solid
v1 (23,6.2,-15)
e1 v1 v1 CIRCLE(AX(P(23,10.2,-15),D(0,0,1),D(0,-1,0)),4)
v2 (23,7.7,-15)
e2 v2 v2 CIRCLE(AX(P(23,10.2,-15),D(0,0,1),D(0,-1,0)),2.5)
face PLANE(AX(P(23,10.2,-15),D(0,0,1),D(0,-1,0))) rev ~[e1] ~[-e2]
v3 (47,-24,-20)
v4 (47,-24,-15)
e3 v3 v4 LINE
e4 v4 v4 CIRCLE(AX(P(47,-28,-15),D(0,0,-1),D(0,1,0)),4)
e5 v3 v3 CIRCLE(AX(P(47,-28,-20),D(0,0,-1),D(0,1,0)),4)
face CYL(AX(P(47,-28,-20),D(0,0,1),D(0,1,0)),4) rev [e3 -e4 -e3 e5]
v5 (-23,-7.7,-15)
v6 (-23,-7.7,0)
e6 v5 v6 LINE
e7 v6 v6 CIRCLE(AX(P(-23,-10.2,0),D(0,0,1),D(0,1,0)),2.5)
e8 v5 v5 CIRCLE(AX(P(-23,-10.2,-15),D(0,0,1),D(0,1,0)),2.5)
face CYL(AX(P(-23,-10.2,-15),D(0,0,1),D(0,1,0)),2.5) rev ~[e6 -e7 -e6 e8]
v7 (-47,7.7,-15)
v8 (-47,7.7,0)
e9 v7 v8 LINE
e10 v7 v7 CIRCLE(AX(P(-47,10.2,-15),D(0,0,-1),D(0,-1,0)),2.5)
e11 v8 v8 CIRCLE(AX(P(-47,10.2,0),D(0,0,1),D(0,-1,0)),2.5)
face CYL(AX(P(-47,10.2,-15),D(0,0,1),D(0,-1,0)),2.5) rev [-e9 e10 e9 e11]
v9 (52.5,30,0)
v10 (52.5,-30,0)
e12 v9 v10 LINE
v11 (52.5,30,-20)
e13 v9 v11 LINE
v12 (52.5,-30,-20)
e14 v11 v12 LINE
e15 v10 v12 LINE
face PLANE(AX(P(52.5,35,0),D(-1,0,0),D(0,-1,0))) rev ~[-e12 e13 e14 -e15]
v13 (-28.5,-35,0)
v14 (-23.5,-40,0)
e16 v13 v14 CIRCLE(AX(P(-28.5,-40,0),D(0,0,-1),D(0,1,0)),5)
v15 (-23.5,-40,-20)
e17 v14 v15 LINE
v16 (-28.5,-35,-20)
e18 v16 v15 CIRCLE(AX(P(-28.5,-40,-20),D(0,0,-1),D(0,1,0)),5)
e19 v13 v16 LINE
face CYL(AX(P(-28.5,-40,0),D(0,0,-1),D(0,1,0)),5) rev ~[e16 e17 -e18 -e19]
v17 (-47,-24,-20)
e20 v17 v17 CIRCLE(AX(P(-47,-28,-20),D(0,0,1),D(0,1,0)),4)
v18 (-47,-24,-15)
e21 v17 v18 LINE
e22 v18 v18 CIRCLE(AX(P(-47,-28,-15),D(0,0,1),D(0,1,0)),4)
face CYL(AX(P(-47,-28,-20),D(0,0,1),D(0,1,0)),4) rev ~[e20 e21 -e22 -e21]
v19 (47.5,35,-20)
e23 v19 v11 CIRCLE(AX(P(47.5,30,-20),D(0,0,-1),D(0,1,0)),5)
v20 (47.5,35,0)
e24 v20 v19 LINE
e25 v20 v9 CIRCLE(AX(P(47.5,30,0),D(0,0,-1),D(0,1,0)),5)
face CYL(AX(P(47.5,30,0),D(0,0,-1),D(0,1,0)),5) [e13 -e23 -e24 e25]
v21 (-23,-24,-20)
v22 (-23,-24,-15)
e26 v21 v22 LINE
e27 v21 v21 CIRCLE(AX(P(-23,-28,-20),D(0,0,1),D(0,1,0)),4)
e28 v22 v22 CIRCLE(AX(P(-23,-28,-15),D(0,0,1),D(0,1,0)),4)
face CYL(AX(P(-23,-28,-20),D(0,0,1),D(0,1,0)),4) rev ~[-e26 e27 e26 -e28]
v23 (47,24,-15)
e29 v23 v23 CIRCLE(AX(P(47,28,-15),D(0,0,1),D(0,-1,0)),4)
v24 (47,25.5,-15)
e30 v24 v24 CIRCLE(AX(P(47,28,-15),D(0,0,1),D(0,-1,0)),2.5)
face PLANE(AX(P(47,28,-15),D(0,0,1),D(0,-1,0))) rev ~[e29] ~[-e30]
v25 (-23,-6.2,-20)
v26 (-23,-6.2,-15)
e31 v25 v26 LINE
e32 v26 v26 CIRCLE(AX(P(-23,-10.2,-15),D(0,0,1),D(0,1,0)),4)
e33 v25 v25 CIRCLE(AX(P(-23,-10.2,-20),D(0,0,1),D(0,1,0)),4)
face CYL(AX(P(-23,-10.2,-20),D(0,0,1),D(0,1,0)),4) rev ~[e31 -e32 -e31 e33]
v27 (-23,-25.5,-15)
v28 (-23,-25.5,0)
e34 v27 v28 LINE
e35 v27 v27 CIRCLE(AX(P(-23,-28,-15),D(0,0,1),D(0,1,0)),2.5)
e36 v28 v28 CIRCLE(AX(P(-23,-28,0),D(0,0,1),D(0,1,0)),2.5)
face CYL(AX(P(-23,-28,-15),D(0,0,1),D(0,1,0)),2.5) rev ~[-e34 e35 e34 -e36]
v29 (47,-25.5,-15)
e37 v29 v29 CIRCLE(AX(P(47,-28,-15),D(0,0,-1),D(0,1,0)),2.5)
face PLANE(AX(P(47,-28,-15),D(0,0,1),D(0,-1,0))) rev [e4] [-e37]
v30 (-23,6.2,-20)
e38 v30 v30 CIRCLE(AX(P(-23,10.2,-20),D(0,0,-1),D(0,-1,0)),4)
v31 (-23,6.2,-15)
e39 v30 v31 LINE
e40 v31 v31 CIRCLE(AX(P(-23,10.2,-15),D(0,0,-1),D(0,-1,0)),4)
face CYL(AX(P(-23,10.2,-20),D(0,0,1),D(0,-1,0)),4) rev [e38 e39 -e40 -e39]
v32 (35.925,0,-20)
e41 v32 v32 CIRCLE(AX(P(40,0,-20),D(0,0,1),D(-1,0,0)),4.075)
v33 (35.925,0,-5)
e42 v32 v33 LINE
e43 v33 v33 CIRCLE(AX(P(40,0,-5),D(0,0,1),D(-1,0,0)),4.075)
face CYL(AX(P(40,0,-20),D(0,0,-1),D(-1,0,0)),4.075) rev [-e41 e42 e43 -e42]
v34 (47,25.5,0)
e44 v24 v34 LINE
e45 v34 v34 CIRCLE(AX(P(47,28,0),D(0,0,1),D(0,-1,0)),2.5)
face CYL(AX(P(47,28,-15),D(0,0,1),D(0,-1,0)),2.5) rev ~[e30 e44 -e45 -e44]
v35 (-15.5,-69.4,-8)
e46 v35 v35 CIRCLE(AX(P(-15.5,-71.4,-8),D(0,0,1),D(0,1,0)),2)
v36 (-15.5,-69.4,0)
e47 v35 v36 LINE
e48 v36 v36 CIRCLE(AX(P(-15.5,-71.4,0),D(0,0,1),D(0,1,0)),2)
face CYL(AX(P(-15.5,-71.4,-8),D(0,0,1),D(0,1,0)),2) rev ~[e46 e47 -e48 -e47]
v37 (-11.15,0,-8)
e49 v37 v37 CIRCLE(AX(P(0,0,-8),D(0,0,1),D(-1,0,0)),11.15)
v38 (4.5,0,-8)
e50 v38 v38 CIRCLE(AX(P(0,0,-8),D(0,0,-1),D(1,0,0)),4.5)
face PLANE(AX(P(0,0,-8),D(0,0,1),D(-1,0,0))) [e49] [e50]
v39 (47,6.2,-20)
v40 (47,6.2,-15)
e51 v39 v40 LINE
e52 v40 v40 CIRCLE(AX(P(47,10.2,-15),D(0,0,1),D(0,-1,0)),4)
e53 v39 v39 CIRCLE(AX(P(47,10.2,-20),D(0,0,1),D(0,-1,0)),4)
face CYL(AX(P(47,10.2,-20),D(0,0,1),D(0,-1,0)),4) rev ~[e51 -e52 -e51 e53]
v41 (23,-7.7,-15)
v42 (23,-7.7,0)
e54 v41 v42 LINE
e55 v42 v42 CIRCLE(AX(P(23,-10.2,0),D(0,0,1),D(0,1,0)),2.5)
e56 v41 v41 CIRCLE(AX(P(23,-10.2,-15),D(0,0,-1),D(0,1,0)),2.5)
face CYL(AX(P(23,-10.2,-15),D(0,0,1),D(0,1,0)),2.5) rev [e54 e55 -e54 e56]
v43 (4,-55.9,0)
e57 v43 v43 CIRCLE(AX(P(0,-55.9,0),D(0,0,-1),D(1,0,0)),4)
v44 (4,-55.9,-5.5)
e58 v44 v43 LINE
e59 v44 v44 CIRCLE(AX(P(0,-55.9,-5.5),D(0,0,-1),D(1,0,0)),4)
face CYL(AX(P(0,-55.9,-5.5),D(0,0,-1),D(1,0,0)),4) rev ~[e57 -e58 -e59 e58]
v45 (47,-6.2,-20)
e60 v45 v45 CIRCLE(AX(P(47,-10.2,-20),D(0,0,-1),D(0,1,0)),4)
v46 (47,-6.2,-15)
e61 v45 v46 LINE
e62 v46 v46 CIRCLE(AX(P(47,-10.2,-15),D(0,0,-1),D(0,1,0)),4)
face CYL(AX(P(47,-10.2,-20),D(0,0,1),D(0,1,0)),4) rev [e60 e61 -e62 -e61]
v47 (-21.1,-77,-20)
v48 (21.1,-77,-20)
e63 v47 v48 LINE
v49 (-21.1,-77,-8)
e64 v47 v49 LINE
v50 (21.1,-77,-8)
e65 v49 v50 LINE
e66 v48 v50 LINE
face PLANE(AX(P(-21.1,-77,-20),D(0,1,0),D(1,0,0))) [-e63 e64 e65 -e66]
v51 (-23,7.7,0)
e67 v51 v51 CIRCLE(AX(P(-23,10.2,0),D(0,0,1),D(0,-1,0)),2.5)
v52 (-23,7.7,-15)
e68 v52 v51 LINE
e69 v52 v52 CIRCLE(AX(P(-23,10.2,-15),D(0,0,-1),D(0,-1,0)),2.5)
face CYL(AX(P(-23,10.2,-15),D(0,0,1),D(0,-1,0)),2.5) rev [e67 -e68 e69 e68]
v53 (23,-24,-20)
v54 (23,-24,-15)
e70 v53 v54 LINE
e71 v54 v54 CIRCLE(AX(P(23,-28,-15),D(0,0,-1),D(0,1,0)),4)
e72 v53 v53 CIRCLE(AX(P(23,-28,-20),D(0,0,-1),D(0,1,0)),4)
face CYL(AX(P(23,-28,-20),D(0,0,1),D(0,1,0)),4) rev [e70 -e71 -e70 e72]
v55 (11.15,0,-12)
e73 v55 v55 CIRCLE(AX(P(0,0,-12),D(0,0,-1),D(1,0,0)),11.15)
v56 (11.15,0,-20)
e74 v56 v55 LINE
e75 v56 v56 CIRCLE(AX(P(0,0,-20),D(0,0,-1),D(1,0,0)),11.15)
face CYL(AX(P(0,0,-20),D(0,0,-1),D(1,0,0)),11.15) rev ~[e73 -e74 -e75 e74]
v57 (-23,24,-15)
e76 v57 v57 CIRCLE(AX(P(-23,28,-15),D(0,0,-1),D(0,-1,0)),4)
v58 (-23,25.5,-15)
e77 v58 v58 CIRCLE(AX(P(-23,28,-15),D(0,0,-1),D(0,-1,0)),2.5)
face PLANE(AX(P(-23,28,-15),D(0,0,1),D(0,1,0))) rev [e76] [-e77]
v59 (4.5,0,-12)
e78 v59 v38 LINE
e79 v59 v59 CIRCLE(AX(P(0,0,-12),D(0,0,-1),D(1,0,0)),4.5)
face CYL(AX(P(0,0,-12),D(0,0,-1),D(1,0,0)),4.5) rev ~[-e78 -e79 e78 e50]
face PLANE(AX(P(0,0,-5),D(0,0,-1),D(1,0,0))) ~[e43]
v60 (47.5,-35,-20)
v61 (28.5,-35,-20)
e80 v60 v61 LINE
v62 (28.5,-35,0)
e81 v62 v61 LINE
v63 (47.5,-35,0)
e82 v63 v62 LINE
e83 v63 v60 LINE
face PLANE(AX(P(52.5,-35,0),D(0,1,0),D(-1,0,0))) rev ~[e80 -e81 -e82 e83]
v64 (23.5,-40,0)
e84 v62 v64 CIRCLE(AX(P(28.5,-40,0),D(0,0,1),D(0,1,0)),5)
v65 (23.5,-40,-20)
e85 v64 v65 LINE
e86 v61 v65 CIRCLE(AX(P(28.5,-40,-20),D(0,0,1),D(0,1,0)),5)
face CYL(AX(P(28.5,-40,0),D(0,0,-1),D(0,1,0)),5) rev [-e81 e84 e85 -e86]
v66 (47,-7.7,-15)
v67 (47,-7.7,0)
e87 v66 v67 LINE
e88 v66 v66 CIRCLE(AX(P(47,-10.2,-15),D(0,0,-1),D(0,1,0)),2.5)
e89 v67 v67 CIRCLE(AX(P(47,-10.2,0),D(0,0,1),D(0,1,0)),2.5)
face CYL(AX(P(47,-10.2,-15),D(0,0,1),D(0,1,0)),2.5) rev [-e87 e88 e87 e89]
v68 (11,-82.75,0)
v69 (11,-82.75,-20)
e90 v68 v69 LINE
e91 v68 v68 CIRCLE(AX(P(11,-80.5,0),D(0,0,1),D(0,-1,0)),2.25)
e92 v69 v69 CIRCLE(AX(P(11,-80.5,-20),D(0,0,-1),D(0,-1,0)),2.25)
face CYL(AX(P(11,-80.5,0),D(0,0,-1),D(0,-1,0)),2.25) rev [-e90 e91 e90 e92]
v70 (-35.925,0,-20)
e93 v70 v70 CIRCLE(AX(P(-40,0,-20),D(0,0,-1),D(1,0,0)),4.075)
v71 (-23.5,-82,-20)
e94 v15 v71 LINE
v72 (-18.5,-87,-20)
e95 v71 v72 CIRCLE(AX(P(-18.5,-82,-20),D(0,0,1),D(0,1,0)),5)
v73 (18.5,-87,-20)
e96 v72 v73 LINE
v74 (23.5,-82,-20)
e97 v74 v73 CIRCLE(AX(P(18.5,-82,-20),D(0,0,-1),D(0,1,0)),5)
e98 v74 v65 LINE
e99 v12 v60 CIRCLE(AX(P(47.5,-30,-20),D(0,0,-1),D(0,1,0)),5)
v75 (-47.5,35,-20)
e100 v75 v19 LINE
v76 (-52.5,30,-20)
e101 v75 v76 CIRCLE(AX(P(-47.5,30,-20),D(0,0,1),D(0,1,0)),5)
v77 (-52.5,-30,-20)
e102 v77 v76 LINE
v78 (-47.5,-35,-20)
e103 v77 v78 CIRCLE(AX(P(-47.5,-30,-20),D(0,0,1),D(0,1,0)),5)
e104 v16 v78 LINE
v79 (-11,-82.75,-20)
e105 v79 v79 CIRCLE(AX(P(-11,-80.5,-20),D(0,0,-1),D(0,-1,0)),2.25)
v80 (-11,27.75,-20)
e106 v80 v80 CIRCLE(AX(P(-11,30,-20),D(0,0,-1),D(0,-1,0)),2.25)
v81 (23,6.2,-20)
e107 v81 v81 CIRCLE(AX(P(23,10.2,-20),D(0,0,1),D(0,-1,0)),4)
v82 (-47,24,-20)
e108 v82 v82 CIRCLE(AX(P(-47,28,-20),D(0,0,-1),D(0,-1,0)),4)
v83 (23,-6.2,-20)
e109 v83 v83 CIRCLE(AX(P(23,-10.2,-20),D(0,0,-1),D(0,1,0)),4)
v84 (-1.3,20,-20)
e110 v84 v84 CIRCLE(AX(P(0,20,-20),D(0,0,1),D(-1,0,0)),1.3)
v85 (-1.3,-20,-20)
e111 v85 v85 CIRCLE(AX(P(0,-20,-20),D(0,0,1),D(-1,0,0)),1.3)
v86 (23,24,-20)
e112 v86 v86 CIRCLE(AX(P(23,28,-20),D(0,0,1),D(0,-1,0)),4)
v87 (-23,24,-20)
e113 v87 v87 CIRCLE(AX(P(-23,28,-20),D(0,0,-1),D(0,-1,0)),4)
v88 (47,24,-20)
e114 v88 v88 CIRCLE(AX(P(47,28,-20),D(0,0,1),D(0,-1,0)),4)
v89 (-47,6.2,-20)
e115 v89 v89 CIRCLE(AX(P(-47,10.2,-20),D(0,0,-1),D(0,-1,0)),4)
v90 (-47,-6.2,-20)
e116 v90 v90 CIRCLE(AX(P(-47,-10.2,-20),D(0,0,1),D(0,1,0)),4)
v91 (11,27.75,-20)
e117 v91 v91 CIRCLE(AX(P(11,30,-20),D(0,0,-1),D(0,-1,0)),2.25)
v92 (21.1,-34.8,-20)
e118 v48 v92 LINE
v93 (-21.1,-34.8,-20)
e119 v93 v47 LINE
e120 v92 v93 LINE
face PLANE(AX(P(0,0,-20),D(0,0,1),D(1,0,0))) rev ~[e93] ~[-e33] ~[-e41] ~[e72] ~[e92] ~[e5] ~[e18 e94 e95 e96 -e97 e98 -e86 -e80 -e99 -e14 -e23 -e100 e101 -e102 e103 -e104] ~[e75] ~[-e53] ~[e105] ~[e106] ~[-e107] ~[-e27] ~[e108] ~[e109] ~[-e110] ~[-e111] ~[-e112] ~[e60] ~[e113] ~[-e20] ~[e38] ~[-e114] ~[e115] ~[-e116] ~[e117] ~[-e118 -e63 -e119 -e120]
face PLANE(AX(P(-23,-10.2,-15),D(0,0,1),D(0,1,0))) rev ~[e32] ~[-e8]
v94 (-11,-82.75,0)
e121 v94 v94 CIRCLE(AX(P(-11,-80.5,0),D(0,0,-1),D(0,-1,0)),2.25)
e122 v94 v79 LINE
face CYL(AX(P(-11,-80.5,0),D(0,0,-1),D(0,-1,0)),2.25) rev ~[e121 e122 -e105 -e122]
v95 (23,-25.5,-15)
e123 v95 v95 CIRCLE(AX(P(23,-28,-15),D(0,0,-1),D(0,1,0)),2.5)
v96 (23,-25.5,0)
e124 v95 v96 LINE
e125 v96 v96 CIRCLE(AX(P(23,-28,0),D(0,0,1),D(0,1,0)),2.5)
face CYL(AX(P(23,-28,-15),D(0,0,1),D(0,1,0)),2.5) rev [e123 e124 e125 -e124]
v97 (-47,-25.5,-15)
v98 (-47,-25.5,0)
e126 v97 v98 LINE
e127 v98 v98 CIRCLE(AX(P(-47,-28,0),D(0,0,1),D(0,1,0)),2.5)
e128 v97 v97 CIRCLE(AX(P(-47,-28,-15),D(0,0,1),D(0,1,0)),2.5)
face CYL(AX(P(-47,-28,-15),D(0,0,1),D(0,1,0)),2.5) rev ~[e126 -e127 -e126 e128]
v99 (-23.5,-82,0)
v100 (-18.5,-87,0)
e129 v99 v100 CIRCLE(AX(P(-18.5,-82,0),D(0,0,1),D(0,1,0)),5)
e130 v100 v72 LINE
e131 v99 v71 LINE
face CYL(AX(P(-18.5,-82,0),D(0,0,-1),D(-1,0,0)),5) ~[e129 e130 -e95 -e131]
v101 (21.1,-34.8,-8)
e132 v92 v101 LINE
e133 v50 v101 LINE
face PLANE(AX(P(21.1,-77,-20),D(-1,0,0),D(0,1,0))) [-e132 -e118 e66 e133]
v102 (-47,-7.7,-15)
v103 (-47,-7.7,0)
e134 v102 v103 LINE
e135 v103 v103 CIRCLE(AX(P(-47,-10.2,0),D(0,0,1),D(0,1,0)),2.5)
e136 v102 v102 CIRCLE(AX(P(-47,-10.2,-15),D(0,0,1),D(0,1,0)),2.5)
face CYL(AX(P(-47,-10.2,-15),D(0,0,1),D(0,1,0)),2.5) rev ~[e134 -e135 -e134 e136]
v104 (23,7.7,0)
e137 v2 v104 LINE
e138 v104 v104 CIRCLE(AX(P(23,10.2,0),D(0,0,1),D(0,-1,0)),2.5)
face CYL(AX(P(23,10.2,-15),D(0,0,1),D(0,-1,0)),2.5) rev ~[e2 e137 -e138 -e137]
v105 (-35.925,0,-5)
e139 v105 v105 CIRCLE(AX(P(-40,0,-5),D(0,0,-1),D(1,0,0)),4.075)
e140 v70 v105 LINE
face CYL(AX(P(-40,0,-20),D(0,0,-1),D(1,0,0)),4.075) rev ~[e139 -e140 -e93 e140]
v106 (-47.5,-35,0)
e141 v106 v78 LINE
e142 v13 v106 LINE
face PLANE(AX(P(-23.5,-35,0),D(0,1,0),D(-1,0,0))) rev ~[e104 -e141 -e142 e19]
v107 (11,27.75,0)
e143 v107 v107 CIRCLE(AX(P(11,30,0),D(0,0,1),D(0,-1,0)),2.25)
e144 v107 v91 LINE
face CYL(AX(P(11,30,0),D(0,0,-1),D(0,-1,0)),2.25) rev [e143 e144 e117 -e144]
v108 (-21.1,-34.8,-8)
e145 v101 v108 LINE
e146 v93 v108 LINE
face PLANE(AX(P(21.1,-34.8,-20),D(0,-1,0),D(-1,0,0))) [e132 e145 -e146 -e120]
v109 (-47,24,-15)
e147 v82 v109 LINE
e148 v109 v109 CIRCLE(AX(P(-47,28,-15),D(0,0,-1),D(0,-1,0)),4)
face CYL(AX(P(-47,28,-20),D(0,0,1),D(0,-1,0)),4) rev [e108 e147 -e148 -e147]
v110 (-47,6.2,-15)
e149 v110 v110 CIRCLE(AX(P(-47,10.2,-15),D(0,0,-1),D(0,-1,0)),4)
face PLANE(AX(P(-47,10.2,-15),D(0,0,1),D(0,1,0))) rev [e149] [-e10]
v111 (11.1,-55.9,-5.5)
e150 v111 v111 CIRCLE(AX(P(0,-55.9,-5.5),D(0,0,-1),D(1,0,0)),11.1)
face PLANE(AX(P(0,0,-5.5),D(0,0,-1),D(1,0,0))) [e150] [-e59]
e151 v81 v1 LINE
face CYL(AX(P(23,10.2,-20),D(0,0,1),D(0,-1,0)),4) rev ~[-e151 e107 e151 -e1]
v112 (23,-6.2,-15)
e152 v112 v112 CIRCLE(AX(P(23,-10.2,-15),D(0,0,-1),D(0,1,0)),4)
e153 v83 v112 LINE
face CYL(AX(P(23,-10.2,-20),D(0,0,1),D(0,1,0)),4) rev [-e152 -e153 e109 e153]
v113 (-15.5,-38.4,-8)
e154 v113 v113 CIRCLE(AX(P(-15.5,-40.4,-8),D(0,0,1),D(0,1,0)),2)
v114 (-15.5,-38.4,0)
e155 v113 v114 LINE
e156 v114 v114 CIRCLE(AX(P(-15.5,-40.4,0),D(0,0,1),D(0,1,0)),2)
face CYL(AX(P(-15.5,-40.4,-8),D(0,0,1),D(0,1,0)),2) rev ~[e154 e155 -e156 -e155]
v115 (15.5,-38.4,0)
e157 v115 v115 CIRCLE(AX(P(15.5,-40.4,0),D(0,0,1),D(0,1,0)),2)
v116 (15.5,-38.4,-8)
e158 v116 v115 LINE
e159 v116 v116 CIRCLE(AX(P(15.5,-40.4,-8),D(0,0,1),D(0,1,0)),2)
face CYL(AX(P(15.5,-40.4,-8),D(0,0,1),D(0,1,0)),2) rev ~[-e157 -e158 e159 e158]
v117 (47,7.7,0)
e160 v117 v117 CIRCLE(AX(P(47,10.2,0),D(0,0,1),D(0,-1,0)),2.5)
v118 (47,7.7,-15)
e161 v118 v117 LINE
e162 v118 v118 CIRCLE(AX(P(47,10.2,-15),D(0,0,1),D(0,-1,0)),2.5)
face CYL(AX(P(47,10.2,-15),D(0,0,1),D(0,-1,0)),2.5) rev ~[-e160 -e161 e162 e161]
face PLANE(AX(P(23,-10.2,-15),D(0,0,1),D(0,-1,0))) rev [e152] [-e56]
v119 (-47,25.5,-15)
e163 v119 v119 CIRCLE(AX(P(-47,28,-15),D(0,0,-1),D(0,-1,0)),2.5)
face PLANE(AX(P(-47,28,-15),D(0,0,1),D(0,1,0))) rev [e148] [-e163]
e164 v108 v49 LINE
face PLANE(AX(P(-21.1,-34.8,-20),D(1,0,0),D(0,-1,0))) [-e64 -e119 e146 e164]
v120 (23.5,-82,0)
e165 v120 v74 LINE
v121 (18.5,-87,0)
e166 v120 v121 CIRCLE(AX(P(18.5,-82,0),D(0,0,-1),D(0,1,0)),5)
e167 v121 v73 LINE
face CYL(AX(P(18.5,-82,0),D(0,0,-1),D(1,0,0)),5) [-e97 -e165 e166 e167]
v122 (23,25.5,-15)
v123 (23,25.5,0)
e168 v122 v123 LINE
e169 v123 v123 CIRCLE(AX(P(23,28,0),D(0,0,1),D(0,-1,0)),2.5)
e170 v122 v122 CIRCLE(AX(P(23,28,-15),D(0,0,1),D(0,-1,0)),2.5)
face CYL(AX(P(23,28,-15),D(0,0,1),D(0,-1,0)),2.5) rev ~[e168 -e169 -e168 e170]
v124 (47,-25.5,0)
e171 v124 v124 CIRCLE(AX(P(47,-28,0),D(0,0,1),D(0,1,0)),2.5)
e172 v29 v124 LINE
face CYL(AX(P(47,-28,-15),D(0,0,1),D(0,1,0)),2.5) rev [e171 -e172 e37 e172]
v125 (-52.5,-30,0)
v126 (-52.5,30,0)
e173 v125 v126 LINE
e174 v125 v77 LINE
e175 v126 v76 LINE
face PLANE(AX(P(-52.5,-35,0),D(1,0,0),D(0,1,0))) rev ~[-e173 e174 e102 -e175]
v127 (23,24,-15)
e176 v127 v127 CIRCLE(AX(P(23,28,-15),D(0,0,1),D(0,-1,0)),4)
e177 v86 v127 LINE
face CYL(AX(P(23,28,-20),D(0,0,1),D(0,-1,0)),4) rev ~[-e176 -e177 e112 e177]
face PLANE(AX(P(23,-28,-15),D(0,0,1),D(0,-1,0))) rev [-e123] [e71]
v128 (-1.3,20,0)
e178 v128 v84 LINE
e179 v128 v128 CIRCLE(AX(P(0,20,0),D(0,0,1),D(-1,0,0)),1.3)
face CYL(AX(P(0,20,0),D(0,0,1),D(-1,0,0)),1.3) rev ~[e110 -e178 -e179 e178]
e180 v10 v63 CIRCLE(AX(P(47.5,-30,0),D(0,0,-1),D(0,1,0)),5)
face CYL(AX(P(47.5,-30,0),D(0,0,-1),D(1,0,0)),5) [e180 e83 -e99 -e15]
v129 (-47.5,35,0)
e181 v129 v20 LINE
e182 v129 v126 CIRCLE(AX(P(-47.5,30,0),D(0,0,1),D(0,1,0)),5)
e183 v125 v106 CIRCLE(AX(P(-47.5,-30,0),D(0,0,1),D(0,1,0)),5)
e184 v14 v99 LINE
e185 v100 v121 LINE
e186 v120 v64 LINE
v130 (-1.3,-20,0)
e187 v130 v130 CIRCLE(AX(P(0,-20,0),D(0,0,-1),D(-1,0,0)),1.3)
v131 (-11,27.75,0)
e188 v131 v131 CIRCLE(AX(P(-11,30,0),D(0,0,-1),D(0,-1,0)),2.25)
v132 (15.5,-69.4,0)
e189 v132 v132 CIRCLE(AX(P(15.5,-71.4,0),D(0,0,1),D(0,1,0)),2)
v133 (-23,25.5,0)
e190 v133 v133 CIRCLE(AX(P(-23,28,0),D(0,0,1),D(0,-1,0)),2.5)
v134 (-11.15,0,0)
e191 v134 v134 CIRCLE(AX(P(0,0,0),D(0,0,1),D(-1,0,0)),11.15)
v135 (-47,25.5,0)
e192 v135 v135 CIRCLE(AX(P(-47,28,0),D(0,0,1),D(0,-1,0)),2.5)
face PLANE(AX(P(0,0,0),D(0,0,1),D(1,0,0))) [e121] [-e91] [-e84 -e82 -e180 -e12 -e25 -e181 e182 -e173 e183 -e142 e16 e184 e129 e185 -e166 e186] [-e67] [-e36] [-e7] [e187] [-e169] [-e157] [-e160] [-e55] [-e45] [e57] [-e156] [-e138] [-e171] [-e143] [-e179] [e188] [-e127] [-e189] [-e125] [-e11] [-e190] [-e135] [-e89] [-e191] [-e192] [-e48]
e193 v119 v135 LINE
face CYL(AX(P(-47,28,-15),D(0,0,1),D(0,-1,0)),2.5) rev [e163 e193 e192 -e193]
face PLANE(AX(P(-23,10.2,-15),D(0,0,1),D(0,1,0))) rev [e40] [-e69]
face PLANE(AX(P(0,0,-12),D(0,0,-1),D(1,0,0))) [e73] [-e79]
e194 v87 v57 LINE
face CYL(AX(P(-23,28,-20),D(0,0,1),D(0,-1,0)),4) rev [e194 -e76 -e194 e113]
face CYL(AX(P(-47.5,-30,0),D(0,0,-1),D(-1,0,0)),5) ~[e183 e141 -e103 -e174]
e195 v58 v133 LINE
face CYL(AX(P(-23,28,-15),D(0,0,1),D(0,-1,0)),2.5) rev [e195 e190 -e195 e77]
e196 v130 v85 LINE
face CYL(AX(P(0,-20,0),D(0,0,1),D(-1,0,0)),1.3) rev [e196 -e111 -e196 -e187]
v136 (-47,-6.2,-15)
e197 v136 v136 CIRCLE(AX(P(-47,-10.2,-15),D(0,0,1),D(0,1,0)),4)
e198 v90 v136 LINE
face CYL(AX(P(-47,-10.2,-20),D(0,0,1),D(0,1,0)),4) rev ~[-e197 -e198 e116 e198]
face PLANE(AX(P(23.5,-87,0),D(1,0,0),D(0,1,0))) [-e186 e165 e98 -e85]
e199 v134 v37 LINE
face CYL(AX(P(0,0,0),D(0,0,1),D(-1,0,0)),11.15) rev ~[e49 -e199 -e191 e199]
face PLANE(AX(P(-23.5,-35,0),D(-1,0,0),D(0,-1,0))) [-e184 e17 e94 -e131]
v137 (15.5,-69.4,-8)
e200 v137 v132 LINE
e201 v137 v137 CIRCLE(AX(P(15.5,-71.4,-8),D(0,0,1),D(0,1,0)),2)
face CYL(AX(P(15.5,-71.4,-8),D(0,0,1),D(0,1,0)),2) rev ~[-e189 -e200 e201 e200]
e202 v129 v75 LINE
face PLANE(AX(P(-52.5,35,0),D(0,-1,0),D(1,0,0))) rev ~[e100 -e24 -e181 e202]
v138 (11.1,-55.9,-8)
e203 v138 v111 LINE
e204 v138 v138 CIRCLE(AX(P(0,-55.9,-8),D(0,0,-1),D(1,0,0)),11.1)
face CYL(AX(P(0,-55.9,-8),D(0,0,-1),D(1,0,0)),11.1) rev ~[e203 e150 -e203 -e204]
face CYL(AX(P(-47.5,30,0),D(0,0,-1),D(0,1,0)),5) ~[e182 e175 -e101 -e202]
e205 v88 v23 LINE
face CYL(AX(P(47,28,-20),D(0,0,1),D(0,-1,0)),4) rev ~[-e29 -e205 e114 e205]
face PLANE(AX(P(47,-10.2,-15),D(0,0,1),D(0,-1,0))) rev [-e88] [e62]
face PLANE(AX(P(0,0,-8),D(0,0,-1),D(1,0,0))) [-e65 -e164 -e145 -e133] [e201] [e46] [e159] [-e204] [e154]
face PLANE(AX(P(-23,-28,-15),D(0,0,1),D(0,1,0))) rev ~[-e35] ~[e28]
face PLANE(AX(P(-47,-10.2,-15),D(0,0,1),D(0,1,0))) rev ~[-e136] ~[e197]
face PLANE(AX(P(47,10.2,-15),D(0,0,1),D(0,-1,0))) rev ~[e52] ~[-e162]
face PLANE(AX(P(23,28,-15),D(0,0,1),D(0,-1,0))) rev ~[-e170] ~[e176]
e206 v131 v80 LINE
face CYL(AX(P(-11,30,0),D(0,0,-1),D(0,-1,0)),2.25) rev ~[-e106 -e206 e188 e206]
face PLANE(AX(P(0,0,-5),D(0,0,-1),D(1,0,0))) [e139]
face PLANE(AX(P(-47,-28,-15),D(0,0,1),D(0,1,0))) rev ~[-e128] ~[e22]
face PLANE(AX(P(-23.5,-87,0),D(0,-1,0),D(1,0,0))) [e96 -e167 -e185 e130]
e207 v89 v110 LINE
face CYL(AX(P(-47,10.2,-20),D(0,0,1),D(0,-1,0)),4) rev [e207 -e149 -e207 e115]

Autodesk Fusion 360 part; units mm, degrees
sketch "Esquisse1" plane through (0, 0, 0) normal (0, 0, 1) x (1, 0, 0)
  line L0 (-52.5, 35) -> (52.5, 35)
  line L1 (52.5, 35) -> (52.5, -35)
  line L2 (-52.5, -35) -> (-52.5, 35)
  line L3 (0, 1.75) -> (0, 22.5)
  line L4 (1.75, 0) -> (22.5, 0)
  line L5 (-23.5, -35) -> (-23.5, -87)
  line L6 (-23.5, -87) -> (23.5, -87)
  line L7 (23.5, -87) -> (23.5, -35)
  line L8 (52.5, -35) -> (23.5, -35)
  line L9 (-23.5, -35) -> (-52.5, -35)
  dimension "d1" = 105
  dimension "d2" = 70
  dimension "d25" = 52
  dimension "d26" = 47
extrude "Extrusion1" add sketch "Esquisse1" against normal blind 20
sketch "Esquisse3" plane through (0, 0, -20) normal (0, 0, -1) x (1, 0, 0)
  line L0 (-23.5, 35) -> (-52.5, 35)
  line L1 (-52.5, 35) -> (-52.5, -35)
  line L2 (-52.5, -35) -> (52.5, -35)
  line L3 (52.5, -35) -> (52.5, 35)
  line L4 (0, -1.75) -> (0, -22.5)
  line L5 (23.5, 87) -> (-23.5, 87)
  line L6 (-23.5, 87) -> (-23.5, 35)
  line L7 (52.5, 35) -> (23.5, 35)
  line L8 (23.5, 35) -> (23.5, 87)
  point P0 (-47, 28)
  point P1 (-23, 28)
  point P2 (-47, 10.2)
  point P3 (-23, 10.2)
  dimension "d7" = 24
  dimension "d8" = -17.8
  dimension "d16" = 47
hole "Perçage1" at (-47, -28, -20) at (-23, -28, -20) at (-23, -10.2, -20) at (-47, -10.2, -20) direction (0, 0, 1) diameter 5 depth 50 tip angle 118 counterbore diameter 8 counterbore depth 5
mirror "Symétrie miroir1" about plane through (0, 0, 0) normal (1, 0, 0) of "Perçage1"
mirror "Symétrie miroir2" about plane through (0, 0, 0) normal (0, 1, 0) of "Perçage1", "Symétrie miroir1"
sketch "Esquisse4" plane through (0, 0, -20) normal (0, 0, -1) x (1, 0, 0)
  line L0 (-23.5, 35) -> (-52.5, 35)
  line L1 (-52.5, 35) -> (-52.5, -35)
  line L2 (-52.5, -35) -> (52.5, -35)
  line L3 (52.5, -35) -> (52.5, 35)
  circle A0 centre (-40, 0) radius 4.075
  line L4 (23.5, 87) -> (-23.5, 87)
  line L5 (-23.5, 87) -> (-23.5, 35)
  line L6 (52.5, 35) -> (23.5, 35)
  line L7 (23.5, 35) -> (23.5, 87)
  circle A1 centre (23, -10.2) radius 4
  circle A2 centre (47, -28) radius 4
  circle A3 centre (23, -28) radius 4
  circle A4 centre (47, -10.2) radius 4
  circle A5 centre (-23, -10.2) radius 4
  circle A6 centre (-47, -28) radius 4
  circle A7 centre (-23, -28) radius 4
  circle A8 centre (-47, -10.2) radius 4
  circle A9 centre (23, 10.2) radius 4
  circle A10 centre (47, 28) radius 4
  circle A11 centre (23, 28) radius 4
  circle A12 centre (47, 10.2) radius 4
  circle A13 centre (-23, 10.2) radius 4
  circle A14 centre (-47, 28) radius 4
  circle A15 centre (-23, 28) radius 4
  circle A16 centre (-47, 10.2) radius 4
  dimension "d17" = 8.15
  dimension "d18" = 40
extrude "Extrusion2" cut sketch "Esquisse4" against normal blind 15 contours A0
mirror "Symétrie miroir3" about plane through (0, 0, 0) normal (1, 0, 0) of "Extrusion2"
sketch "Esquisse6" plane through (0, 0, -20) normal (0, 0, -1) x (1, 0, 0)
  circle A0 centre (40, 0) radius 4.075
  circle A1 centre (-40, 0) radius 4.075
  line L0 (23.5, 87) -> (-23.5, 87)
  line L1 (-23.5, 87) -> (-23.5, 35)
  line L2 (-23.5, 35) -> (-52.5, 35)
  line L3 (-52.5, 35) -> (-52.5, -35)
  line L4 (-52.5, -35) -> (52.5, -35)
  line L5 (52.5, -35) -> (52.5, 35)
  line L6 (52.5, 35) -> (23.5, 35)
  line L7 (23.5, 35) -> (23.5, 87)
  line L8 (-21.1, 77) -> (21.1, 77)
  line L9 (21.1, 77) -> (21.1, 34.8)
  line L10 (21.1, 34.8) -> (-21.1, 34.8)
  line L11 (-21.1, 34.8) -> (-21.1, 77)
  line L12 (0, -1.75) -> (0, -22.5)
  circle A2 centre (23, -10.2) radius 4
  circle A3 centre (47, -28) radius 4
  circle A4 centre (23, -28) radius 4
  circle A5 centre (47, -10.2) radius 4
  circle A6 centre (-23, -10.2) radius 4
  circle A7 centre (-47, -28) radius 4
  circle A8 centre (-23, -28) radius 4
  circle A9 centre (-47, -10.2) radius 4
  circle A10 centre (23, 10.2) radius 4
  circle A11 centre (47, 28) radius 4
  circle A12 centre (23, 28) radius 4
  circle A13 centre (47, 10.2) radius 4
  circle A14 centre (-23, 10.2) radius 4
  circle A15 centre (-47, 28) radius 4
  circle A16 centre (-23, 28) radius 4
  circle A17 centre (-47, 10.2) radius 4
  dimension "d27" = 42.2
  dimension "d28" = 42.2
  dimension "d29" = 10
extrude "Extrusion3" cut sketch "Esquisse6" against normal blind 12 contours L8 L9 L10 L11
sketch "Esquisse7" plane through (0, 0, -8) normal (0, 0, -1) x (1, 0, 0)
  line L0 (-21.1, 34.8) -> (21.1, 34.8)
  line L1 (21.1, 34.8) -> (21.1, 77)
  line L2 (21.1, 77) -> (-21.1, 77)
  line L3 (-21.1, 77) -> (-21.1, 34.8)
  circle A0 centre (0, 55.9) radius 11.1
  line L4 (-21.1, 77) -> (21.1, 77)
  line L5 (0, -1.75) -> (0, -22.5)
  dimension "d32" = 22.2
  dimension "d33" = 21.1
extrude "Extrusion4" cut sketch "Esquisse7" against normal blind 2.5 contours A0
sketch "Esquisse8" plane through (0, 0, -5.5) normal (0, 0, -1) x (1, 0, 0)
  circle A0 centre (0, 55.9) radius 11.1
  circle A1 centre (0, 55.9) radius 4
  dimension "d36" = 8
extrude "Extrusion5" cut sketch "Esquisse8" against normal blind 9 contours A1
sketch "Esquisse9" plane through (0, 0, -20) normal (0, 0, -1) x (1, 0, 0)
  line L0 (21.1, 77) -> (21.1, 34.8)
  line L1 (21.1, 34.8) -> (-21.1, 34.8)
  line L2 (-21.1, 34.8) -> (-21.1, 77)
  line L3 (-21.1, 77) -> (21.1, 77)
  circle A0 centre (40, 0) radius 4.075
  circle A1 centre (-40, 0) radius 4.075
  line L4 (23.5, 87) -> (-23.5, 87)
  line L5 (-23.5, 87) -> (-23.5, 35)
  line L6 (-23.5, 35) -> (-52.5, 35)
  line L7 (-52.5, 35) -> (-52.5, -35)
  line L8 (-52.5, -35) -> (52.5, -35)
  line L9 (52.5, -35) -> (52.5, 35)
  line L10 (52.5, 35) -> (23.5, 35)
  line L11 (23.5, 35) -> (23.5, 87)
  circle A2 centre (0, 0) radius 11.15
  circle A3 centre (23, -10.2) radius 4
  circle A4 centre (47, -28) radius 4
  circle A5 centre (23, -28) radius 4
  circle A6 centre (47, -10.2) radius 4
  circle A7 centre (-23, -10.2) radius 4
  circle A8 centre (-47, -28) radius 4
  circle A9 centre (-23, -28) radius 4
  circle A10 centre (-47, -10.2) radius 4
  circle A11 centre (23, 10.2) radius 4
  circle A12 centre (47, 28) radius 4
  circle A13 centre (23, 28) radius 4
  circle A14 centre (47, 10.2) radius 4
  circle A15 centre (-23, 10.2) radius 4
  circle A16 centre (-47, 28) radius 4
  circle A17 centre (-23, 28) radius 4
  circle A18 centre (-47, 10.2) radius 4
  dimension "d39" = 22.3
extrude "Extrusion6" cut sketch "Esquisse9" against normal blind 8 contours A2
sketch "Esquisse10" plane through (0, 0, 0) normal (0, 0, 1) x (-1, 0, 0)
  circle A0 centre (-23, -10.2) radius 2.5
  circle A1 centre (-47, -28) radius 2.5
  circle A2 centre (-23, -28) radius 2.5
  circle A3 centre (-47, -10.2) radius 2.5
  circle A4 centre (23, -10.2) radius 2.5
  circle A5 centre (47, -28) radius 2.5
  circle A6 centre (23, -28) radius 2.5
  circle A7 centre (47, -10.2) radius 2.5
  circle A8 centre (-23, 10.2) radius 2.5
  circle A9 centre (-47, 28) radius 2.5
  circle A10 centre (-23, 28) radius 2.5
  circle A11 centre (-47, 10.2) radius 2.5
  circle A12 centre (23, 10.2) radius 2.5
  circle A13 centre (47, 28) radius 2.5
  circle A14 centre (23, 28) radius 2.5
  circle A15 centre (47, 10.2) radius 2.5
  line L0 (23.5, 87) -> (-23.5, 87)
  line L1 (-23.5, 87) -> (-23.5, 35)
  line L2 (-23.5, 35) -> (-52.5, 35)
  line L3 (-52.5, 35) -> (-52.5, -35)
  line L4 (-52.5, -35) -> (52.5, -35)
  line L5 (52.5, -35) -> (52.5, 35)
  line L6 (52.5, 35) -> (23.5, 35)
  line L7 (23.5, 35) -> (23.5, 87)
  circle A16 centre (0, 0) radius 11.15
  circle A17 centre (0, 55.9) radius 4
  dimension "d42" = 22.3
extrude "Extrusion7" cut sketch "Esquisse10" against normal blind 8 contours A16
sketch "Esquisse11" plane through (0, 0, -12) normal (0, 0, -1) x (1, 0, 0)
  circle A0 centre (0, 0) radius 11.15
  circle A1 centre (0, 0) radius 4.5
  dimension "d45" = 9
extrude "Extrusion8" cut sketch "Esquisse11" against normal blind 15 contours A1
sketch "Esquisse12" plane through (0, 0, -8) normal (0, 0, -1) x (1, 0, 0)
  circle A0 centre (0, 55.9) radius 11.1
  line L0 (-21.1, 34.8) -> (21.1, 34.8)
  line L1 (21.1, 34.8) -> (21.1, 77)
  line L2 (21.1, 77) -> (-21.1, 77)
  line L3 (-21.1, 77) -> (-21.1, 34.8)
  point P0 (-15.5, 71.4)
  point P1 (15.5, 71.4)
  point P2 (-15.5, 40.4)
  point P3 (15.5, 40.4)
  dimension "d48" = 15.5
  dimension "d49" = 15.5
  dimension "d52" = 31
  dimension "d53" = -31
hole "Perçage2" at (-15.5, -71.4, -8) at (15.5, -71.4, -8) at (15.5, -40.4, -8) at (-15.5, -40.4, -8) direction (0, 0, 1) diameter 4 depth 50 tip angle 118
sketch "Esquisse13" plane through (0, 0, 0) normal (0, 0, 1) x (-1, 0, 0)
  circle A0 centre (-15.5, 40.4) radius 2
  circle A1 centre (15.5, 71.4) radius 2
  circle A2 centre (-15.5, 71.4) radius 2
  circle A3 centre (15.5, 40.4) radius 2
  circle A4 centre (0, 0) radius 11.15
  circle A5 centre (0, 55.9) radius 4
  circle A6 centre (-23, -10.2) radius 2.5
  circle A7 centre (-47, -28) radius 2.5
  circle A8 centre (-23, -28) radius 2.5
  circle A9 centre (-47, -10.2) radius 2.5
  circle A10 centre (23, -10.2) radius 2.5
  circle A11 centre (47, -28) radius 2.5
  circle A12 centre (23, -28) radius 2.5
  circle A13 centre (47, -10.2) radius 2.5
  circle A14 centre (-23, 10.2) radius 2.5
  circle A15 centre (-47, 28) radius 2.5
  circle A16 centre (-23, 28) radius 2.5
  circle A17 centre (-47, 10.2) radius 2.5
  circle A18 centre (23, 10.2) radius 2.5
  circle A19 centre (47, 28) radius 2.5
  circle A20 centre (23, 28) radius 2.5
  circle A21 centre (47, 10.2) radius 2.5
  line L0 (23.5, 87) -> (-23.5, 87)
  line L1 (-23.5, 87) -> (-23.5, 35)
  line L2 (-23.5, 35) -> (-52.5, 35)
  line L3 (-52.5, 35) -> (-52.5, -35)
  line L4 (-52.5, -35) -> (52.5, -35)
  line L5 (52.5, -35) -> (52.5, 35)
  line L6 (52.5, 35) -> (23.5, 35)
  line L7 (23.5, 35) -> (23.5, 87)
  point P0 (11, -30)
  dimension "d57" = 30
  dimension "d58" = 11
hole "Perçage3" at (-11, 30, 0) direction (0, 0, -1) diameter 4.5 depth 50 tip angle 118
mirror "Symétrie miroir4" about plane through (0, 0, 0) normal (1, 0, 0) of "Perçage3"
pattern_linear "Réseau R1" count 2 spacing 110.5 along (0, -1, 0) of "Symétrie miroir4", "Perçage3"
sketch "Esquisse14" plane through (0, 0, 0) normal (0, 0, 1) x (-1, 0, 0)
  circle A0 centre (-11, 80.5) radius 2.25
  circle A1 centre (11, 80.5) radius 2.25
  circle A2 centre (-11, -30) radius 2.25
  circle A3 centre (11, -30) radius 2.25
  circle A4 centre (-15.5, 40.4) radius 2
  circle A5 centre (15.5, 71.4) radius 2
  circle A6 centre (-15.5, 71.4) radius 2
  circle A7 centre (15.5, 40.4) radius 2
  circle A8 centre (0, 0) radius 11.15
  circle A9 centre (0, 55.9) radius 4
  circle A10 centre (-23, -10.2) radius 2.5
  circle A11 centre (-47, -28) radius 2.5
  circle A12 centre (-23, -28) radius 2.5
  circle A13 centre (-47, -10.2) radius 2.5
  circle A14 centre (23, -10.2) radius 2.5
  circle A15 centre (47, -28) radius 2.5
  circle A16 centre (23, -28) radius 2.5
  circle A17 centre (47, -10.2) radius 2.5
  circle A18 centre (-23, 10.2) radius 2.5
  circle A19 centre (-47, 28) radius 2.5
  circle A20 centre (-23, 28) radius 2.5
  circle A21 centre (-47, 10.2) radius 2.5
  circle A22 centre (23, 10.2) radius 2.5
  circle A23 centre (47, 28) radius 2.5
  circle A24 centre (23, 28) radius 2.5
  circle A25 centre (47, 10.2) radius 2.5
  line L0 (23.5, 87) -> (-23.5, 87)
  line L1 (-23.5, 87) -> (-23.5, 35)
  line L2 (-23.5, 35) -> (-52.5, 35)
  line L3 (-52.5, 35) -> (-52.5, -35)
  line L4 (-52.5, -35) -> (52.5, -35)
  line L5 (52.5, -35) -> (52.5, 35)
  line L6 (52.5, 35) -> (23.5, 35)
  line L7 (23.5, 35) -> (23.5, 87)
  circle A26 centre (0, -20) radius 1.3
  line L8 (-20, 0) -> (-2.5, 0)
  dimension "d70" = 2.6
  dimension "d71" = 20
extrude "Extrusion9" cut sketch "Esquisse14" against normal blind 24 contours A26
mirror "Symétrie miroir5" about plane through (0, 0, 0) normal (0, 1, 0) of "Extrusion9"
fillet "Congé1" radius 5 8 edges at (-52.5, 35, -10) (52.5, 35, -10) (52.5, -35, -10) (23.5, -87, -10) (-23.5, -87, -10) (-23.5, -35, -10) (23.5, -35, -10) (-52.5, -35, -10)
equation "d16 = ( ( 70 / 2 ) * 1 mm ) + 12 mm"
equation "d32 = ( 11.10 * 2 ) * 1 mm"
equation "d33 = ( 42.2 / 2 ) * 1 mm"
equation "d48 = ( 31 / 2 ) * 1 mm"
equation "d49 = ( 31 / 2 ) * 1 mm"
